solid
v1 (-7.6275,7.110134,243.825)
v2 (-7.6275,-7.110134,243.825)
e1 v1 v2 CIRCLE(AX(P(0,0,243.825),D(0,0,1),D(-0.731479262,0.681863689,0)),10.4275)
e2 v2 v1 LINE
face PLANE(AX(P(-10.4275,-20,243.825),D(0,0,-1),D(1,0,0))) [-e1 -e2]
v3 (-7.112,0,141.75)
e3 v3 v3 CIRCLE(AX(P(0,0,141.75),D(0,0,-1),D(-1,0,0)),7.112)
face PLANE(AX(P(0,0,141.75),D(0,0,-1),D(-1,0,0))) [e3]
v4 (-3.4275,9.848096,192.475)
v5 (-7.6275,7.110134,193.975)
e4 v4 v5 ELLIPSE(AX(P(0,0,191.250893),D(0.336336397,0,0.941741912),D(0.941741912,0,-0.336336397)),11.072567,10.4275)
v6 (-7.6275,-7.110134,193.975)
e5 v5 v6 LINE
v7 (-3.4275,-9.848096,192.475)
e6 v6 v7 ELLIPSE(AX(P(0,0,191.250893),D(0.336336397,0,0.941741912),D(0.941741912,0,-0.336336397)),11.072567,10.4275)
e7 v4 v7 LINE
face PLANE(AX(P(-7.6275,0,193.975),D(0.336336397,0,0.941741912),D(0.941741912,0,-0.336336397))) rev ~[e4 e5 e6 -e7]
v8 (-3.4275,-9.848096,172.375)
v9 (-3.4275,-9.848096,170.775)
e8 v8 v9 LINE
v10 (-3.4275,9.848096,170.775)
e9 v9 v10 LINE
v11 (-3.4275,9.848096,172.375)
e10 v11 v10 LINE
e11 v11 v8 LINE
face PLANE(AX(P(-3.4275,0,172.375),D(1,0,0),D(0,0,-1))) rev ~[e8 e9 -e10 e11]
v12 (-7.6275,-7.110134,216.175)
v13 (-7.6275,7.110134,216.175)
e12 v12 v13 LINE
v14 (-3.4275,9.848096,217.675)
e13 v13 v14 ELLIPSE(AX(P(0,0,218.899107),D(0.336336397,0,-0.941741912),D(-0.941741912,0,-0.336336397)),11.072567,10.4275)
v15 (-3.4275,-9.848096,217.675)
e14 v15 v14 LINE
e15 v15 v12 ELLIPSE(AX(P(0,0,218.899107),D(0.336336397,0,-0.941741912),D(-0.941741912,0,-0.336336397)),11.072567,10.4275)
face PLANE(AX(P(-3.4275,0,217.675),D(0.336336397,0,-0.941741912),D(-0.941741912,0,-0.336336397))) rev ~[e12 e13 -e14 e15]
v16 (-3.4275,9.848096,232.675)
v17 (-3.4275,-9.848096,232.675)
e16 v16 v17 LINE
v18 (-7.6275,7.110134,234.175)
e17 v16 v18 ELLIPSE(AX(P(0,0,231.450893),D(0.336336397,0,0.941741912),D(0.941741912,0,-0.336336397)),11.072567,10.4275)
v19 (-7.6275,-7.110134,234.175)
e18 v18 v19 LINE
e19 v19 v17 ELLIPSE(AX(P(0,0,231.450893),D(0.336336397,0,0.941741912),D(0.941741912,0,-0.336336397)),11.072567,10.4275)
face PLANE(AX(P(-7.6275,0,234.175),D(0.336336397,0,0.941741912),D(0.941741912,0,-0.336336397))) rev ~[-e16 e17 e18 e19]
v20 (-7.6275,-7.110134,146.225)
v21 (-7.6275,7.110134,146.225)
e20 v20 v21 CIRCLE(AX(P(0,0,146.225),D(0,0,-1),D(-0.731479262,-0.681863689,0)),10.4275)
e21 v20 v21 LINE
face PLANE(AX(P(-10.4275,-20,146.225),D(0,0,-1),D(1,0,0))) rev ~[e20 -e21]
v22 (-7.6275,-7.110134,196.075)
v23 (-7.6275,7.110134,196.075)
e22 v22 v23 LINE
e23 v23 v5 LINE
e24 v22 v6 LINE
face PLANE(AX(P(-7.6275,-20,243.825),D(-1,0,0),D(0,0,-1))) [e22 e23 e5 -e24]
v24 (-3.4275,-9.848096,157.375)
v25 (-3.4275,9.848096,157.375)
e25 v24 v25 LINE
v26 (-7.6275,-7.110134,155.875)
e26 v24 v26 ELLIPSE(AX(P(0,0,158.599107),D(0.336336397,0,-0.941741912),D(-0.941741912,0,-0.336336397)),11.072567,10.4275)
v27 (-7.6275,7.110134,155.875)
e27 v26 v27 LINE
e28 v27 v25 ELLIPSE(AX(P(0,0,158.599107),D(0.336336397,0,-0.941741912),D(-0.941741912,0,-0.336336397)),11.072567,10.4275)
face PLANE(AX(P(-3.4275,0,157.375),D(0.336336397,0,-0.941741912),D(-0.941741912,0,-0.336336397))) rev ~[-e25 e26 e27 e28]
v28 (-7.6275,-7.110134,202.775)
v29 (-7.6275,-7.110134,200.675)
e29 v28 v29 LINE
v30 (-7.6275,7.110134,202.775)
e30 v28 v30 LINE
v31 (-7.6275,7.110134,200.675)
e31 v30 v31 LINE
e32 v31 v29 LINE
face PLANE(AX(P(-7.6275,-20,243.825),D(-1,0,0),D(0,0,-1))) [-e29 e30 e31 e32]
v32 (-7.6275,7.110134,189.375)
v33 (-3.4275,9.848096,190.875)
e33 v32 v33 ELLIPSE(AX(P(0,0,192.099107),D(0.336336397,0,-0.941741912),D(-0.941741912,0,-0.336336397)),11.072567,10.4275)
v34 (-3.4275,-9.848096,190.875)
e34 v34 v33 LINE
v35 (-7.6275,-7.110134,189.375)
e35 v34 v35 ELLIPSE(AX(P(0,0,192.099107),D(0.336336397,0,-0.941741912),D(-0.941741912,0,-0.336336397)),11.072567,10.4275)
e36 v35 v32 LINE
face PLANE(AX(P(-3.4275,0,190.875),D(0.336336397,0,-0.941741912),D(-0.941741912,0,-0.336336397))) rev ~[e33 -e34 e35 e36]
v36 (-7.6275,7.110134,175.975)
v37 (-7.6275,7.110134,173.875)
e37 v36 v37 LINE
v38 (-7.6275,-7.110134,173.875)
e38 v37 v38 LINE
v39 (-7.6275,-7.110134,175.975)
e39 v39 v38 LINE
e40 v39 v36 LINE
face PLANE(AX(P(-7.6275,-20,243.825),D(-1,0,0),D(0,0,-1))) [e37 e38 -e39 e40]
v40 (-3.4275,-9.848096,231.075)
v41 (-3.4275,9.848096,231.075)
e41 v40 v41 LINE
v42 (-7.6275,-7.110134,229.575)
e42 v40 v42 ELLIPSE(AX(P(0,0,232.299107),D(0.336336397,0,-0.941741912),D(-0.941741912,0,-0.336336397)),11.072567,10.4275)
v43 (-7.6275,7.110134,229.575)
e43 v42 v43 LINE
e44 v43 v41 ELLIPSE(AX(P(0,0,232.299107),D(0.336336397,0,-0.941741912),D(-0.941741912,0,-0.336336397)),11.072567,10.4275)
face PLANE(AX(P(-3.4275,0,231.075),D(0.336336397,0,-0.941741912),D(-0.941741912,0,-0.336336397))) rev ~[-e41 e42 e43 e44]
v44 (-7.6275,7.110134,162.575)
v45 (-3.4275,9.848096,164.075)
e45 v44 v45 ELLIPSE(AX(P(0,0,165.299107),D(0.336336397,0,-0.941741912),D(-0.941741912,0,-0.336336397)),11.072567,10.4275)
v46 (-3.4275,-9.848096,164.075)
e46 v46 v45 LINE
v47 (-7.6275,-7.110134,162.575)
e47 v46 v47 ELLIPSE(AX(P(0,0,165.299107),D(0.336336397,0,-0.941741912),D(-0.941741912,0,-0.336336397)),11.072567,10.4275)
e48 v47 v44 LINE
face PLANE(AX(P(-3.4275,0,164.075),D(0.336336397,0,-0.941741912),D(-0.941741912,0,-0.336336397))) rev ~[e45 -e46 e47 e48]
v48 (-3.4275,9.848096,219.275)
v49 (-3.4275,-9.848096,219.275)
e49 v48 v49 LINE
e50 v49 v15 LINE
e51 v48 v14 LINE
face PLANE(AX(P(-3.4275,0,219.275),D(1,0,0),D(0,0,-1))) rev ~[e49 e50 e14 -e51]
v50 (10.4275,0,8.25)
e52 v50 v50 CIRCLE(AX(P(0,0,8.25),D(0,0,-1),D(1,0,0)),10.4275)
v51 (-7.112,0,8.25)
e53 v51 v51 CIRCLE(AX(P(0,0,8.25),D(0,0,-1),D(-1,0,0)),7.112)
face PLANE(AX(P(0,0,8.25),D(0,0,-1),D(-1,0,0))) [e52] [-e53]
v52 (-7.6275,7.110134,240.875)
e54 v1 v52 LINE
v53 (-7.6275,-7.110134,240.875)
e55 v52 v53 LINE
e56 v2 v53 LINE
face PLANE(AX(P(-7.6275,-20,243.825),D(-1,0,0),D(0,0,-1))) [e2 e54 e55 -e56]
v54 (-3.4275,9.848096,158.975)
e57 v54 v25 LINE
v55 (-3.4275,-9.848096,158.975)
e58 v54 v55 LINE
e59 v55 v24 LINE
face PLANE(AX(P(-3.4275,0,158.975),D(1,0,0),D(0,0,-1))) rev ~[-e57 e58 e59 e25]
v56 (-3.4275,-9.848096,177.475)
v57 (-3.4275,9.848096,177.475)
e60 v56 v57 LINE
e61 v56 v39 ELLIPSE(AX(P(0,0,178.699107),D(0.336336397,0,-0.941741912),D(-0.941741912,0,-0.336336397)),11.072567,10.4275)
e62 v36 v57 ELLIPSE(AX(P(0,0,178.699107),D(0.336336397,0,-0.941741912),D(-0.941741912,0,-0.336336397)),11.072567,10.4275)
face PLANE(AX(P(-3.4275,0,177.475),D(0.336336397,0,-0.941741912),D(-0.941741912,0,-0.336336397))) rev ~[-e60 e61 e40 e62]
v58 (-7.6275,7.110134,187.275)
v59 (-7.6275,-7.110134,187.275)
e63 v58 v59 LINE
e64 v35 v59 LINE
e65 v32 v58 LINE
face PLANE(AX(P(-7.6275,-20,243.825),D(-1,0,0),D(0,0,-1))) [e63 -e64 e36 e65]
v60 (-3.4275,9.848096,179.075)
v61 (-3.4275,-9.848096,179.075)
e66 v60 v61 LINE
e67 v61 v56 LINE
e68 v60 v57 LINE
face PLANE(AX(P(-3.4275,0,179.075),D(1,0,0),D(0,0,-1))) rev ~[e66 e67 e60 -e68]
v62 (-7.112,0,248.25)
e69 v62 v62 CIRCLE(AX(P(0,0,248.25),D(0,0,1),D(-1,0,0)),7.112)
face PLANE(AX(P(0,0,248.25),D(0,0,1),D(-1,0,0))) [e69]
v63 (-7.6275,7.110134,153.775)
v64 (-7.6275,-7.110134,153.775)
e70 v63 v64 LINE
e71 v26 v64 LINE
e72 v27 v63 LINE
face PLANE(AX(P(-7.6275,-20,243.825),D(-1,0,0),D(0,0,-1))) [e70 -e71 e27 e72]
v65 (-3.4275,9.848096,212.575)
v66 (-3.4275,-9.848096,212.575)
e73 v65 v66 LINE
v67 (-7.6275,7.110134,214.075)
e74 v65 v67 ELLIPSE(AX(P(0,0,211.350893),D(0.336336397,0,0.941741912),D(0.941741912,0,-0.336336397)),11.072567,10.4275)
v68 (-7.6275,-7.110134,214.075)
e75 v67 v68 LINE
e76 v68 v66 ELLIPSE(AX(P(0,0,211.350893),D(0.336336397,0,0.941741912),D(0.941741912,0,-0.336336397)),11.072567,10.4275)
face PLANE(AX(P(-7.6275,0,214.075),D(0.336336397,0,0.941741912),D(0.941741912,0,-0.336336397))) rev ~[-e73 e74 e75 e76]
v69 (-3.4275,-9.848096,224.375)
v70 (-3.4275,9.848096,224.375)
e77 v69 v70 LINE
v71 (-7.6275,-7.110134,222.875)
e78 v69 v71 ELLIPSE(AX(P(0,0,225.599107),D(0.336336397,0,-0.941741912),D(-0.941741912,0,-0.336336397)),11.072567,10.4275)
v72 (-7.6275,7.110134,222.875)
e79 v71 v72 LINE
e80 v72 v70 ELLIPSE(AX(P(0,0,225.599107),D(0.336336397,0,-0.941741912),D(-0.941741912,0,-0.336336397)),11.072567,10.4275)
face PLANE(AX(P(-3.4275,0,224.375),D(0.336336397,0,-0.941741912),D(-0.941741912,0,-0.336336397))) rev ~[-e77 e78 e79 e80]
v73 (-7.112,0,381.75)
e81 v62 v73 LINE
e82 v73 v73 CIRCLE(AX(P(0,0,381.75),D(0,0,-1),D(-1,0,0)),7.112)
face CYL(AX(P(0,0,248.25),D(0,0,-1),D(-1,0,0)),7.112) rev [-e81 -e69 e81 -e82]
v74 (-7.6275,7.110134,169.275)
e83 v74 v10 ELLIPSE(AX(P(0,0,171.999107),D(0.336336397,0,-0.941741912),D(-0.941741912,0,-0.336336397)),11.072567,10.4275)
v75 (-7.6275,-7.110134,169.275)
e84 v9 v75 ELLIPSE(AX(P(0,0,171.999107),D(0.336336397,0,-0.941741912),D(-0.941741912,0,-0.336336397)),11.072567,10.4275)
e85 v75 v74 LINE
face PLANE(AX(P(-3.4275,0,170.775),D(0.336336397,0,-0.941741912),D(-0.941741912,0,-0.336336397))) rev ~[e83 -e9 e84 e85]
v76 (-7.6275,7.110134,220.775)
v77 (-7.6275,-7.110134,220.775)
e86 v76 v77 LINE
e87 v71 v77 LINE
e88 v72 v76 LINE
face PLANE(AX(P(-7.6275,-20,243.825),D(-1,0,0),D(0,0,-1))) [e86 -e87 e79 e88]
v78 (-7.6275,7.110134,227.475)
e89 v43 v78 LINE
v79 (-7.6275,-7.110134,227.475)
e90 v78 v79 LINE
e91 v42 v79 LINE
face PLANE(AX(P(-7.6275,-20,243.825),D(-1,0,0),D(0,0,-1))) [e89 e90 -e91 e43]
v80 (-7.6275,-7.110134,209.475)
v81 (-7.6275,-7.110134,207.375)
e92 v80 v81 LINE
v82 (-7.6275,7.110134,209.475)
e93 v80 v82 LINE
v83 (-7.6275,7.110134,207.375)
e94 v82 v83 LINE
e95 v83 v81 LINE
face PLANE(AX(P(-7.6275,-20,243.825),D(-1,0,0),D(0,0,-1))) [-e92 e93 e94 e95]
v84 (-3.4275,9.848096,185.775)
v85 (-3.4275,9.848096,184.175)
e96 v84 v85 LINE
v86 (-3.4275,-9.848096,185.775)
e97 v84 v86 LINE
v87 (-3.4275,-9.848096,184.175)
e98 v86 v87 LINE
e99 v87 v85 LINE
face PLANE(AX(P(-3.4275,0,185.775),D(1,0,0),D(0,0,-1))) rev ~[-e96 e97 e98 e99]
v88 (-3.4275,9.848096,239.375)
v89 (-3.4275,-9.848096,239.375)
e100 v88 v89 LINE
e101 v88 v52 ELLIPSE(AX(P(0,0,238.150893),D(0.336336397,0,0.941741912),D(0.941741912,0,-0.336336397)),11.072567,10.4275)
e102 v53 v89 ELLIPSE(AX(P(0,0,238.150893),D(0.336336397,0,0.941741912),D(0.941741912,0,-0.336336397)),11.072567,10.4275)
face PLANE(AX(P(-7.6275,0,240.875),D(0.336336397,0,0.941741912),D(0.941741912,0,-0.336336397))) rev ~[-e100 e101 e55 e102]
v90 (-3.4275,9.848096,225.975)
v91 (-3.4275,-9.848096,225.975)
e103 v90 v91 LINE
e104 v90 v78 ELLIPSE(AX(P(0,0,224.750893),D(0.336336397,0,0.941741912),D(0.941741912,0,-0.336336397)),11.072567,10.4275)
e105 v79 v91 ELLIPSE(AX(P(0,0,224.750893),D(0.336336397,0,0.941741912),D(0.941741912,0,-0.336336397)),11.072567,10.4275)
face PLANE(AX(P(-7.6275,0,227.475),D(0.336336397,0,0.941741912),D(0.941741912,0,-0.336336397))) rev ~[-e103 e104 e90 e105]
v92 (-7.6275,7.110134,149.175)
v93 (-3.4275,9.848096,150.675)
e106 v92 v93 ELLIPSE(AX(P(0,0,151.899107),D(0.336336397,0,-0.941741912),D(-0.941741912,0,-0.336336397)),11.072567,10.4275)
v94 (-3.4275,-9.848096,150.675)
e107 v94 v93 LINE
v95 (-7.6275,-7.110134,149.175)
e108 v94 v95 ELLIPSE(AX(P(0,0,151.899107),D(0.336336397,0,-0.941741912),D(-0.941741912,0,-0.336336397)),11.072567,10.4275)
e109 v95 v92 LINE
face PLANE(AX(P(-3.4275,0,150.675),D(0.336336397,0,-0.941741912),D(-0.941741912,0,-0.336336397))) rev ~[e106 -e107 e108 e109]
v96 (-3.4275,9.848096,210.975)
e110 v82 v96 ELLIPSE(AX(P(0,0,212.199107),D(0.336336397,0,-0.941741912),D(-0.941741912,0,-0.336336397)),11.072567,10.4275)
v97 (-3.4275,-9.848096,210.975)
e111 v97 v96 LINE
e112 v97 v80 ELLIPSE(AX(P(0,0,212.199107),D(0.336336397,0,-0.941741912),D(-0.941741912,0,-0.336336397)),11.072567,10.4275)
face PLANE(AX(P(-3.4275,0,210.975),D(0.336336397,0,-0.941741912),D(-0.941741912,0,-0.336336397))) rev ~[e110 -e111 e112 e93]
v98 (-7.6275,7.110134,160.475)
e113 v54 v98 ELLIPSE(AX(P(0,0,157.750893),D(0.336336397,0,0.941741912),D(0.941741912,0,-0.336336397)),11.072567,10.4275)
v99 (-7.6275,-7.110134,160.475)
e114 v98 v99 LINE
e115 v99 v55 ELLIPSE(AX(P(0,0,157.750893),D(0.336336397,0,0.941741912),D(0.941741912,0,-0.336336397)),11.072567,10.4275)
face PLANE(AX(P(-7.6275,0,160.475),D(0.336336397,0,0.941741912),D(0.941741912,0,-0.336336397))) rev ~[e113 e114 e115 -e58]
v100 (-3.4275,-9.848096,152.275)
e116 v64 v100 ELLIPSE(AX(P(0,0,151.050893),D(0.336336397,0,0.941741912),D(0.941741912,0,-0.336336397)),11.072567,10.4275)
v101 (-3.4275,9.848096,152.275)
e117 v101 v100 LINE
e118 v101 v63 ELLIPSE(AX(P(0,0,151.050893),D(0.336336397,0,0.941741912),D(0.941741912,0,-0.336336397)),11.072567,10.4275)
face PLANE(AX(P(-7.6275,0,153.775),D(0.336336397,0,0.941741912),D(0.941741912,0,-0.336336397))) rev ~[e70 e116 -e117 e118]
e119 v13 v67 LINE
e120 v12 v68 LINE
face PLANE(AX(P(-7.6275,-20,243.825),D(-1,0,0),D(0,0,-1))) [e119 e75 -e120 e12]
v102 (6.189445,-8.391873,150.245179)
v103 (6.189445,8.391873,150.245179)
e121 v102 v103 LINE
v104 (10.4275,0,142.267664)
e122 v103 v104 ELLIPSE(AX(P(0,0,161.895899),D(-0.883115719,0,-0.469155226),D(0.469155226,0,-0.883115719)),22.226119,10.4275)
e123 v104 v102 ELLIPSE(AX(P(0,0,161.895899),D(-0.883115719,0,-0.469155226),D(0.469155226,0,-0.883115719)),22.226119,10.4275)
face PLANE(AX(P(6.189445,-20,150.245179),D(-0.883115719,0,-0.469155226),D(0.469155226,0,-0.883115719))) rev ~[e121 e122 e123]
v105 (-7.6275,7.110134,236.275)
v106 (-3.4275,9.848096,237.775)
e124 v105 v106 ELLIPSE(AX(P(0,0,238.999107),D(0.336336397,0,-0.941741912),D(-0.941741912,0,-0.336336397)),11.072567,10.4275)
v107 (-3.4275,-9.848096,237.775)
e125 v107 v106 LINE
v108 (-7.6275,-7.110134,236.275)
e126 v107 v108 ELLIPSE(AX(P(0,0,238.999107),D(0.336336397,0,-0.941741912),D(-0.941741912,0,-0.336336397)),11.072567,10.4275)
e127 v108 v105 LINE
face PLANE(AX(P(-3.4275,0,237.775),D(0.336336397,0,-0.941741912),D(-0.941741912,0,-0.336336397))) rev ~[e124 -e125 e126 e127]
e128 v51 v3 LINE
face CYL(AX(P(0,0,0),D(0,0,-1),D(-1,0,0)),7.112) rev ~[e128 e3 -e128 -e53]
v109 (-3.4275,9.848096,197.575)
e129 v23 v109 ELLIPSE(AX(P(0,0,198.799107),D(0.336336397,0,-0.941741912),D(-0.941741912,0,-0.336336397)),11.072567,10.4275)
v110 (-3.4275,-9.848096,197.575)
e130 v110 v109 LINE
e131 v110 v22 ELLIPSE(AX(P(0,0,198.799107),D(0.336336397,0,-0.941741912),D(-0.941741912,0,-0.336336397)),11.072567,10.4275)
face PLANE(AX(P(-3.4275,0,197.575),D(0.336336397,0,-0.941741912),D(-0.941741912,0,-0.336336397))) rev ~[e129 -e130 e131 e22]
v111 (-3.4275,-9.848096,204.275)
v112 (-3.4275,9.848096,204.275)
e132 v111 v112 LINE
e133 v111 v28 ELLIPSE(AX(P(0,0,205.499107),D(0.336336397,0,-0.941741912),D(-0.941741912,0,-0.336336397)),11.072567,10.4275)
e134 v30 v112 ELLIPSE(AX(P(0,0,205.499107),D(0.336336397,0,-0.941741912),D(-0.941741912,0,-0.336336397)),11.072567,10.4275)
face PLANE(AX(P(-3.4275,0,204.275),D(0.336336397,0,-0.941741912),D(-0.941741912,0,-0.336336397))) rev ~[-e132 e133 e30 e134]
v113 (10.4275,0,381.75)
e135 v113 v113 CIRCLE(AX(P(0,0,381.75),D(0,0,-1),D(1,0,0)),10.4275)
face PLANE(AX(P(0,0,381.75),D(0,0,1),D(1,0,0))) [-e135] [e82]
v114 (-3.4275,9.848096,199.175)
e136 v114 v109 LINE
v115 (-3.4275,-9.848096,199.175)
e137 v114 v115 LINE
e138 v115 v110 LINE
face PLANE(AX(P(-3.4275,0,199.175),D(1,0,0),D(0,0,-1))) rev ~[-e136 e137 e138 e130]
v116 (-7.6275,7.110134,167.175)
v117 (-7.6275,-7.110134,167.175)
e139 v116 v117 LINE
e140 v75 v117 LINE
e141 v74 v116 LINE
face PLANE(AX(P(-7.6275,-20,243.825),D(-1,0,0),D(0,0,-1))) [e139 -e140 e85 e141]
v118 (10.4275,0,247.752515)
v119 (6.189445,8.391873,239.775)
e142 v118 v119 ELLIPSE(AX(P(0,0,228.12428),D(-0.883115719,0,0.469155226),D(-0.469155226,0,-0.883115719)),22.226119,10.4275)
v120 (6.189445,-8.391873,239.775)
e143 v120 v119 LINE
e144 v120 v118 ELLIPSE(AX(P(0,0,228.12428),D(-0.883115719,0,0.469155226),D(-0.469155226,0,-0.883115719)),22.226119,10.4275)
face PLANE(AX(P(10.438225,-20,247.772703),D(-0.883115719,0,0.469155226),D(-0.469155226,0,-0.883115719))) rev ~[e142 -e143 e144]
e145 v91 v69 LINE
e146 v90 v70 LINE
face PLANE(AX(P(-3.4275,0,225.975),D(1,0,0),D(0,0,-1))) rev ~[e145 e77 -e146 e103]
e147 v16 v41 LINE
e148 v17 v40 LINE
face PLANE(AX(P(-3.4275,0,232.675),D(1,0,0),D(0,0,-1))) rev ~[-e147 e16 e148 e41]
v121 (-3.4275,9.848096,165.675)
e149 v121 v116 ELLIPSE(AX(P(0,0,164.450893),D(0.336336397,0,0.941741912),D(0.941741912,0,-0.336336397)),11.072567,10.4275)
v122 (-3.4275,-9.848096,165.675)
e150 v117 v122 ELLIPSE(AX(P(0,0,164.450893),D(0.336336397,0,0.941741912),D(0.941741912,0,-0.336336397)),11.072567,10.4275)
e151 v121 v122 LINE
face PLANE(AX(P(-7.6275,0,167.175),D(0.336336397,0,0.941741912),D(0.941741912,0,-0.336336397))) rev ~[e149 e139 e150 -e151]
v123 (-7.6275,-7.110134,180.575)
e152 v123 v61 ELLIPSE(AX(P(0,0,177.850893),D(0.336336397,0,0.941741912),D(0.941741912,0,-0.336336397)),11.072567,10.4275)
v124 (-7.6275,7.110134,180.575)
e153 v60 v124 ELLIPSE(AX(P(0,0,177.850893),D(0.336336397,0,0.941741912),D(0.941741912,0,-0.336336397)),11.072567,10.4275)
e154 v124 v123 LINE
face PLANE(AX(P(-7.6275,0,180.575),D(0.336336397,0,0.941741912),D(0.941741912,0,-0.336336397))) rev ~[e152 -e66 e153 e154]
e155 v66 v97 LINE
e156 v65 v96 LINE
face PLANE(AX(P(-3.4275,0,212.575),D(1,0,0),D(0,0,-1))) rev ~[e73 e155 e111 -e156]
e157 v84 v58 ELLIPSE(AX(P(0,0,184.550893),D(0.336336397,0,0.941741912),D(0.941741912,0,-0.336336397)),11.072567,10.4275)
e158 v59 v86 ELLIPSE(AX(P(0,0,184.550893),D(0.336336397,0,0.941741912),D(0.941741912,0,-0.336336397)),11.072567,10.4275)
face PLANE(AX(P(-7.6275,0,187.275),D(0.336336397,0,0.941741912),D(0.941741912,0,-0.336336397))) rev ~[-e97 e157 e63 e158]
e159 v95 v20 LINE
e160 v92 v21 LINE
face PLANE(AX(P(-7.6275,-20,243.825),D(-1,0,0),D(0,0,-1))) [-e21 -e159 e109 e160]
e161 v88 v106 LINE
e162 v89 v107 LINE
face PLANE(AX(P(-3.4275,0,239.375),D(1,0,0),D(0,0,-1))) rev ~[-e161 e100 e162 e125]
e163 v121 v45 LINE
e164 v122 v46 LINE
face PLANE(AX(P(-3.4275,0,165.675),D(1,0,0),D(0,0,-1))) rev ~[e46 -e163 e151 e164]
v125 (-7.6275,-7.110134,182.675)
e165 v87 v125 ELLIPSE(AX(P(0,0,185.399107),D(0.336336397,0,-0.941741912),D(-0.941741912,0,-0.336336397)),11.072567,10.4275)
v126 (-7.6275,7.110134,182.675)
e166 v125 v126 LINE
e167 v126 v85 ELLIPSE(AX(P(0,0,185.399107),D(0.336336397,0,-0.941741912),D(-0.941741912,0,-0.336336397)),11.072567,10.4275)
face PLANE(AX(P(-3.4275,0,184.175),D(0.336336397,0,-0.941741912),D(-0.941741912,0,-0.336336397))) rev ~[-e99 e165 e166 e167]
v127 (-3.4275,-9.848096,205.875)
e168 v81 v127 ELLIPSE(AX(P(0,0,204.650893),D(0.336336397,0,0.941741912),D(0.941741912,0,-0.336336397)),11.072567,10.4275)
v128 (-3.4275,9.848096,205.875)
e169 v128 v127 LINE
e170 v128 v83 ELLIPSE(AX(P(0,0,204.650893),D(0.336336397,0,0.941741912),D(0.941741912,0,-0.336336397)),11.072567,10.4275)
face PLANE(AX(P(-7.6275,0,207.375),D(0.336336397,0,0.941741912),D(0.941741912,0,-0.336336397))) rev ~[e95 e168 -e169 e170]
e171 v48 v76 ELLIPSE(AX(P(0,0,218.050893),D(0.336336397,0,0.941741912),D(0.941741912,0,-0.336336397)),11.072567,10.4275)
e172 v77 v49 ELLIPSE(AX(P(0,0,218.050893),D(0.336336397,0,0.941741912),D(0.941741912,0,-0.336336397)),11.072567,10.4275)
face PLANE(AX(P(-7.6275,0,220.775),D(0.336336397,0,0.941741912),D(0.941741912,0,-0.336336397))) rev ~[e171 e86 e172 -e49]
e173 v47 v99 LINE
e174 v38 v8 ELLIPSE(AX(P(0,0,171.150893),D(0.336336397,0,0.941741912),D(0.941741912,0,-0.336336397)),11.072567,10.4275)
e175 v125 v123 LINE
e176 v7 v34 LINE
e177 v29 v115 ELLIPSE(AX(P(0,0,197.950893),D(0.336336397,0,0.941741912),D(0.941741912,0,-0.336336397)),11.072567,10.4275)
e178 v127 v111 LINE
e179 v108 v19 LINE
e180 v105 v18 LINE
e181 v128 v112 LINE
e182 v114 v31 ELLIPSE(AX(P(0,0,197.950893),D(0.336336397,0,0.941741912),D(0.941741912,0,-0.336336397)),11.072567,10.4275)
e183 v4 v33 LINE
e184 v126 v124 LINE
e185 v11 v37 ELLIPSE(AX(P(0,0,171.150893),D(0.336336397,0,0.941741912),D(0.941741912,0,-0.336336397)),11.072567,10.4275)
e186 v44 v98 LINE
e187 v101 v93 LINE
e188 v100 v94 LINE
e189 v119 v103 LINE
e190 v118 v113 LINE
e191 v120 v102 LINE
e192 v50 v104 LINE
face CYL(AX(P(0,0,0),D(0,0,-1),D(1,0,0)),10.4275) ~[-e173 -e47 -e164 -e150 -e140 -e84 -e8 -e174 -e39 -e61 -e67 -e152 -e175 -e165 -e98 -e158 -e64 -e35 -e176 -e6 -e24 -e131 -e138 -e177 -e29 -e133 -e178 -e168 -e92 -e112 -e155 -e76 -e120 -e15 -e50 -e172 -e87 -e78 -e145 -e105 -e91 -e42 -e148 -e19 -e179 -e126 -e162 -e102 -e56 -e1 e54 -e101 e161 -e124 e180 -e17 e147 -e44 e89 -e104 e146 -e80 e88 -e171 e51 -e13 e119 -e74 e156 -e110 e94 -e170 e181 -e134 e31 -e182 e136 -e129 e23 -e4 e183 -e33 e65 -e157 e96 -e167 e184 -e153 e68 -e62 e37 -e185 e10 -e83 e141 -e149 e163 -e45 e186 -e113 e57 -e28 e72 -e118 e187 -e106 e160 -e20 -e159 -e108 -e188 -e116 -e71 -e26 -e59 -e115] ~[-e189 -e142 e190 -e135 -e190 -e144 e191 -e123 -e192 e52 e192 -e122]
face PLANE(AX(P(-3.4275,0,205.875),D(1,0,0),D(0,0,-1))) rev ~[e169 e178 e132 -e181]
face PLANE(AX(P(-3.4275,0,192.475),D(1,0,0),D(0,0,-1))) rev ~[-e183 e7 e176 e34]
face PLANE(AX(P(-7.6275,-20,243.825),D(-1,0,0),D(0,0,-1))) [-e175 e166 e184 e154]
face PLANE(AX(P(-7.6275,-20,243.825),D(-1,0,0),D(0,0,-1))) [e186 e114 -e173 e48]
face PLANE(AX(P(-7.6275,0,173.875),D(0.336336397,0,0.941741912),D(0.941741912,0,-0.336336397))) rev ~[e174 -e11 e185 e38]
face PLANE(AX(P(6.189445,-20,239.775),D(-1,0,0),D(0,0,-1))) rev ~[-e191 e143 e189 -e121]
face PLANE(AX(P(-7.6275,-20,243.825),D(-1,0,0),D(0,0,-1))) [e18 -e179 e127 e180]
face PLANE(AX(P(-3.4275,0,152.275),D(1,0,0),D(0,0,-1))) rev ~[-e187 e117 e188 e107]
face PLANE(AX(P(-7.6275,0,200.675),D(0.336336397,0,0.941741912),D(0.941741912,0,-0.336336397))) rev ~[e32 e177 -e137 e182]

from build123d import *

# Parameters (mm, degrees)
SKETCH1_R               = 10.4275
BOSS_EXTRUDE1_DEPTH     = 390
SKETCH2_R               = 7.112
CUT_EXTRUDE1_DEPTH      = 141.75
CUT_EXTRUDE2_START      = -141.75
SKETCH3_R               = 7.112
CUT_EXTRUDE2_DEPTH      = 141.75
CUT_EXTRUDE3_DEPTH      = 20
CUT_EXTRUDE3_DEPTH_BACK = 20
SKETCH4_W               = 2.8
SKETCH4_H               = 97.6
CUT_EXTRUDE4_DEPTH      = 20
LPATTERN1_COUNT         = 14
LPATTERN1_PITCH         = 6.7
SKETCH6_W               = 24.776384874
SKETCH6_H               = 25.11648024
CUT_EXTRUDE5_DEPTH      = 8.25
SKETCH7_W               = 32.905320966
SKETCH7_H               = 32.372251486
CUT_EXTRUDE6_DEPTH      = 8.25


with BuildPart() as part:
    # Sketch1 → Boss-Extrude1 (new body)
    with BuildSketch(Plane.XY):
        Circle(SKETCH1_R)
    extrude(amount=BOSS_EXTRUDE1_DEPTH)

    # Sketch2 → Cut-Extrude1 (cut)
    with BuildSketch(Plane(origin=(0, 0, 0), x_dir=(-1, 0, 0), z_dir=(0, 0, -1))):
        Circle(SKETCH2_R)
    extrude(amount=-CUT_EXTRUDE1_DEPTH, mode=Mode.SUBTRACT)

    # Sketch3 → Cut-Extrude2 (cut)
    with BuildSketch(Plane.XY.offset(390).offset(CUT_EXTRUDE2_START)):
        Circle(SKETCH3_R)
    extrude(amount=CUT_EXTRUDE2_DEPTH, mode=Mode.SUBTRACT)

    # Sketch4 → Cut-Extrude3 (cut, two sides: drawn at the far end of the back side and taken through both)
    with BuildSketch(Plane(origin=(0, 0, 0), x_dir=(1, 0, 0), z_dir=(0, 1, 0)).offset(-CUT_EXTRUDE3_DEPTH_BACK)):
        Polygon((6.189444989, -239.775), (6.189444989, -150.245179393), (10.438224829, -142.247476164), (10.438224829, -247.772703229), align=None)
        with Locations((-9.0275, -195.025)):
            Rectangle(SKETCH4_W, SKETCH4_H)
    extrude(amount=CUT_EXTRUDE3_DEPTH + CUT_EXTRUDE3_DEPTH_BACK, mode=Mode.SUBTRACT)

    # Sketch5 → Cut-Extrude4 (cut, symmetric)
    with BuildSketch(Plane(origin=(0, 0, 0), x_dir=(1, 0, 0), z_dir=(0, 1, 0))):
        Polygon((-3.4275, -152.275), (-3.4275, -150.675), (-7.6275, -149.175), (-7.6275, -153.775), align=None)
    cut_extrude4 = extrude(amount=CUT_EXTRUDE4_DEPTH, both=True, mode=Mode.SUBTRACT)

    # LPattern1: Cut-Extrude4 ×14
    with Locations(*[(0, 0, i * LPATTERN1_PITCH) for i in range(1, LPATTERN1_COUNT)]):
        add(cut_extrude4, mode=Mode.SUBTRACT)

    # Sketch6 → Cut-Extrude5 (cut)
    with BuildSketch(Plane.XY.offset(390)):
        Rectangle(SKETCH6_W, SKETCH6_H)
    extrude(amount=-CUT_EXTRUDE5_DEPTH, mode=Mode.SUBTRACT)

    # Sketch7 → Cut-Extrude6 (cut)
    with BuildSketch(Plane(origin=(0, 0, 0), x_dir=(-1, 0, 0), z_dir=(0, 0, -1))):
        Rectangle(SKETCH7_W, SKETCH7_H)
    extrude(amount=-CUT_EXTRUDE6_DEPTH, mode=Mode.SUBTRACT)


solid = part.part
